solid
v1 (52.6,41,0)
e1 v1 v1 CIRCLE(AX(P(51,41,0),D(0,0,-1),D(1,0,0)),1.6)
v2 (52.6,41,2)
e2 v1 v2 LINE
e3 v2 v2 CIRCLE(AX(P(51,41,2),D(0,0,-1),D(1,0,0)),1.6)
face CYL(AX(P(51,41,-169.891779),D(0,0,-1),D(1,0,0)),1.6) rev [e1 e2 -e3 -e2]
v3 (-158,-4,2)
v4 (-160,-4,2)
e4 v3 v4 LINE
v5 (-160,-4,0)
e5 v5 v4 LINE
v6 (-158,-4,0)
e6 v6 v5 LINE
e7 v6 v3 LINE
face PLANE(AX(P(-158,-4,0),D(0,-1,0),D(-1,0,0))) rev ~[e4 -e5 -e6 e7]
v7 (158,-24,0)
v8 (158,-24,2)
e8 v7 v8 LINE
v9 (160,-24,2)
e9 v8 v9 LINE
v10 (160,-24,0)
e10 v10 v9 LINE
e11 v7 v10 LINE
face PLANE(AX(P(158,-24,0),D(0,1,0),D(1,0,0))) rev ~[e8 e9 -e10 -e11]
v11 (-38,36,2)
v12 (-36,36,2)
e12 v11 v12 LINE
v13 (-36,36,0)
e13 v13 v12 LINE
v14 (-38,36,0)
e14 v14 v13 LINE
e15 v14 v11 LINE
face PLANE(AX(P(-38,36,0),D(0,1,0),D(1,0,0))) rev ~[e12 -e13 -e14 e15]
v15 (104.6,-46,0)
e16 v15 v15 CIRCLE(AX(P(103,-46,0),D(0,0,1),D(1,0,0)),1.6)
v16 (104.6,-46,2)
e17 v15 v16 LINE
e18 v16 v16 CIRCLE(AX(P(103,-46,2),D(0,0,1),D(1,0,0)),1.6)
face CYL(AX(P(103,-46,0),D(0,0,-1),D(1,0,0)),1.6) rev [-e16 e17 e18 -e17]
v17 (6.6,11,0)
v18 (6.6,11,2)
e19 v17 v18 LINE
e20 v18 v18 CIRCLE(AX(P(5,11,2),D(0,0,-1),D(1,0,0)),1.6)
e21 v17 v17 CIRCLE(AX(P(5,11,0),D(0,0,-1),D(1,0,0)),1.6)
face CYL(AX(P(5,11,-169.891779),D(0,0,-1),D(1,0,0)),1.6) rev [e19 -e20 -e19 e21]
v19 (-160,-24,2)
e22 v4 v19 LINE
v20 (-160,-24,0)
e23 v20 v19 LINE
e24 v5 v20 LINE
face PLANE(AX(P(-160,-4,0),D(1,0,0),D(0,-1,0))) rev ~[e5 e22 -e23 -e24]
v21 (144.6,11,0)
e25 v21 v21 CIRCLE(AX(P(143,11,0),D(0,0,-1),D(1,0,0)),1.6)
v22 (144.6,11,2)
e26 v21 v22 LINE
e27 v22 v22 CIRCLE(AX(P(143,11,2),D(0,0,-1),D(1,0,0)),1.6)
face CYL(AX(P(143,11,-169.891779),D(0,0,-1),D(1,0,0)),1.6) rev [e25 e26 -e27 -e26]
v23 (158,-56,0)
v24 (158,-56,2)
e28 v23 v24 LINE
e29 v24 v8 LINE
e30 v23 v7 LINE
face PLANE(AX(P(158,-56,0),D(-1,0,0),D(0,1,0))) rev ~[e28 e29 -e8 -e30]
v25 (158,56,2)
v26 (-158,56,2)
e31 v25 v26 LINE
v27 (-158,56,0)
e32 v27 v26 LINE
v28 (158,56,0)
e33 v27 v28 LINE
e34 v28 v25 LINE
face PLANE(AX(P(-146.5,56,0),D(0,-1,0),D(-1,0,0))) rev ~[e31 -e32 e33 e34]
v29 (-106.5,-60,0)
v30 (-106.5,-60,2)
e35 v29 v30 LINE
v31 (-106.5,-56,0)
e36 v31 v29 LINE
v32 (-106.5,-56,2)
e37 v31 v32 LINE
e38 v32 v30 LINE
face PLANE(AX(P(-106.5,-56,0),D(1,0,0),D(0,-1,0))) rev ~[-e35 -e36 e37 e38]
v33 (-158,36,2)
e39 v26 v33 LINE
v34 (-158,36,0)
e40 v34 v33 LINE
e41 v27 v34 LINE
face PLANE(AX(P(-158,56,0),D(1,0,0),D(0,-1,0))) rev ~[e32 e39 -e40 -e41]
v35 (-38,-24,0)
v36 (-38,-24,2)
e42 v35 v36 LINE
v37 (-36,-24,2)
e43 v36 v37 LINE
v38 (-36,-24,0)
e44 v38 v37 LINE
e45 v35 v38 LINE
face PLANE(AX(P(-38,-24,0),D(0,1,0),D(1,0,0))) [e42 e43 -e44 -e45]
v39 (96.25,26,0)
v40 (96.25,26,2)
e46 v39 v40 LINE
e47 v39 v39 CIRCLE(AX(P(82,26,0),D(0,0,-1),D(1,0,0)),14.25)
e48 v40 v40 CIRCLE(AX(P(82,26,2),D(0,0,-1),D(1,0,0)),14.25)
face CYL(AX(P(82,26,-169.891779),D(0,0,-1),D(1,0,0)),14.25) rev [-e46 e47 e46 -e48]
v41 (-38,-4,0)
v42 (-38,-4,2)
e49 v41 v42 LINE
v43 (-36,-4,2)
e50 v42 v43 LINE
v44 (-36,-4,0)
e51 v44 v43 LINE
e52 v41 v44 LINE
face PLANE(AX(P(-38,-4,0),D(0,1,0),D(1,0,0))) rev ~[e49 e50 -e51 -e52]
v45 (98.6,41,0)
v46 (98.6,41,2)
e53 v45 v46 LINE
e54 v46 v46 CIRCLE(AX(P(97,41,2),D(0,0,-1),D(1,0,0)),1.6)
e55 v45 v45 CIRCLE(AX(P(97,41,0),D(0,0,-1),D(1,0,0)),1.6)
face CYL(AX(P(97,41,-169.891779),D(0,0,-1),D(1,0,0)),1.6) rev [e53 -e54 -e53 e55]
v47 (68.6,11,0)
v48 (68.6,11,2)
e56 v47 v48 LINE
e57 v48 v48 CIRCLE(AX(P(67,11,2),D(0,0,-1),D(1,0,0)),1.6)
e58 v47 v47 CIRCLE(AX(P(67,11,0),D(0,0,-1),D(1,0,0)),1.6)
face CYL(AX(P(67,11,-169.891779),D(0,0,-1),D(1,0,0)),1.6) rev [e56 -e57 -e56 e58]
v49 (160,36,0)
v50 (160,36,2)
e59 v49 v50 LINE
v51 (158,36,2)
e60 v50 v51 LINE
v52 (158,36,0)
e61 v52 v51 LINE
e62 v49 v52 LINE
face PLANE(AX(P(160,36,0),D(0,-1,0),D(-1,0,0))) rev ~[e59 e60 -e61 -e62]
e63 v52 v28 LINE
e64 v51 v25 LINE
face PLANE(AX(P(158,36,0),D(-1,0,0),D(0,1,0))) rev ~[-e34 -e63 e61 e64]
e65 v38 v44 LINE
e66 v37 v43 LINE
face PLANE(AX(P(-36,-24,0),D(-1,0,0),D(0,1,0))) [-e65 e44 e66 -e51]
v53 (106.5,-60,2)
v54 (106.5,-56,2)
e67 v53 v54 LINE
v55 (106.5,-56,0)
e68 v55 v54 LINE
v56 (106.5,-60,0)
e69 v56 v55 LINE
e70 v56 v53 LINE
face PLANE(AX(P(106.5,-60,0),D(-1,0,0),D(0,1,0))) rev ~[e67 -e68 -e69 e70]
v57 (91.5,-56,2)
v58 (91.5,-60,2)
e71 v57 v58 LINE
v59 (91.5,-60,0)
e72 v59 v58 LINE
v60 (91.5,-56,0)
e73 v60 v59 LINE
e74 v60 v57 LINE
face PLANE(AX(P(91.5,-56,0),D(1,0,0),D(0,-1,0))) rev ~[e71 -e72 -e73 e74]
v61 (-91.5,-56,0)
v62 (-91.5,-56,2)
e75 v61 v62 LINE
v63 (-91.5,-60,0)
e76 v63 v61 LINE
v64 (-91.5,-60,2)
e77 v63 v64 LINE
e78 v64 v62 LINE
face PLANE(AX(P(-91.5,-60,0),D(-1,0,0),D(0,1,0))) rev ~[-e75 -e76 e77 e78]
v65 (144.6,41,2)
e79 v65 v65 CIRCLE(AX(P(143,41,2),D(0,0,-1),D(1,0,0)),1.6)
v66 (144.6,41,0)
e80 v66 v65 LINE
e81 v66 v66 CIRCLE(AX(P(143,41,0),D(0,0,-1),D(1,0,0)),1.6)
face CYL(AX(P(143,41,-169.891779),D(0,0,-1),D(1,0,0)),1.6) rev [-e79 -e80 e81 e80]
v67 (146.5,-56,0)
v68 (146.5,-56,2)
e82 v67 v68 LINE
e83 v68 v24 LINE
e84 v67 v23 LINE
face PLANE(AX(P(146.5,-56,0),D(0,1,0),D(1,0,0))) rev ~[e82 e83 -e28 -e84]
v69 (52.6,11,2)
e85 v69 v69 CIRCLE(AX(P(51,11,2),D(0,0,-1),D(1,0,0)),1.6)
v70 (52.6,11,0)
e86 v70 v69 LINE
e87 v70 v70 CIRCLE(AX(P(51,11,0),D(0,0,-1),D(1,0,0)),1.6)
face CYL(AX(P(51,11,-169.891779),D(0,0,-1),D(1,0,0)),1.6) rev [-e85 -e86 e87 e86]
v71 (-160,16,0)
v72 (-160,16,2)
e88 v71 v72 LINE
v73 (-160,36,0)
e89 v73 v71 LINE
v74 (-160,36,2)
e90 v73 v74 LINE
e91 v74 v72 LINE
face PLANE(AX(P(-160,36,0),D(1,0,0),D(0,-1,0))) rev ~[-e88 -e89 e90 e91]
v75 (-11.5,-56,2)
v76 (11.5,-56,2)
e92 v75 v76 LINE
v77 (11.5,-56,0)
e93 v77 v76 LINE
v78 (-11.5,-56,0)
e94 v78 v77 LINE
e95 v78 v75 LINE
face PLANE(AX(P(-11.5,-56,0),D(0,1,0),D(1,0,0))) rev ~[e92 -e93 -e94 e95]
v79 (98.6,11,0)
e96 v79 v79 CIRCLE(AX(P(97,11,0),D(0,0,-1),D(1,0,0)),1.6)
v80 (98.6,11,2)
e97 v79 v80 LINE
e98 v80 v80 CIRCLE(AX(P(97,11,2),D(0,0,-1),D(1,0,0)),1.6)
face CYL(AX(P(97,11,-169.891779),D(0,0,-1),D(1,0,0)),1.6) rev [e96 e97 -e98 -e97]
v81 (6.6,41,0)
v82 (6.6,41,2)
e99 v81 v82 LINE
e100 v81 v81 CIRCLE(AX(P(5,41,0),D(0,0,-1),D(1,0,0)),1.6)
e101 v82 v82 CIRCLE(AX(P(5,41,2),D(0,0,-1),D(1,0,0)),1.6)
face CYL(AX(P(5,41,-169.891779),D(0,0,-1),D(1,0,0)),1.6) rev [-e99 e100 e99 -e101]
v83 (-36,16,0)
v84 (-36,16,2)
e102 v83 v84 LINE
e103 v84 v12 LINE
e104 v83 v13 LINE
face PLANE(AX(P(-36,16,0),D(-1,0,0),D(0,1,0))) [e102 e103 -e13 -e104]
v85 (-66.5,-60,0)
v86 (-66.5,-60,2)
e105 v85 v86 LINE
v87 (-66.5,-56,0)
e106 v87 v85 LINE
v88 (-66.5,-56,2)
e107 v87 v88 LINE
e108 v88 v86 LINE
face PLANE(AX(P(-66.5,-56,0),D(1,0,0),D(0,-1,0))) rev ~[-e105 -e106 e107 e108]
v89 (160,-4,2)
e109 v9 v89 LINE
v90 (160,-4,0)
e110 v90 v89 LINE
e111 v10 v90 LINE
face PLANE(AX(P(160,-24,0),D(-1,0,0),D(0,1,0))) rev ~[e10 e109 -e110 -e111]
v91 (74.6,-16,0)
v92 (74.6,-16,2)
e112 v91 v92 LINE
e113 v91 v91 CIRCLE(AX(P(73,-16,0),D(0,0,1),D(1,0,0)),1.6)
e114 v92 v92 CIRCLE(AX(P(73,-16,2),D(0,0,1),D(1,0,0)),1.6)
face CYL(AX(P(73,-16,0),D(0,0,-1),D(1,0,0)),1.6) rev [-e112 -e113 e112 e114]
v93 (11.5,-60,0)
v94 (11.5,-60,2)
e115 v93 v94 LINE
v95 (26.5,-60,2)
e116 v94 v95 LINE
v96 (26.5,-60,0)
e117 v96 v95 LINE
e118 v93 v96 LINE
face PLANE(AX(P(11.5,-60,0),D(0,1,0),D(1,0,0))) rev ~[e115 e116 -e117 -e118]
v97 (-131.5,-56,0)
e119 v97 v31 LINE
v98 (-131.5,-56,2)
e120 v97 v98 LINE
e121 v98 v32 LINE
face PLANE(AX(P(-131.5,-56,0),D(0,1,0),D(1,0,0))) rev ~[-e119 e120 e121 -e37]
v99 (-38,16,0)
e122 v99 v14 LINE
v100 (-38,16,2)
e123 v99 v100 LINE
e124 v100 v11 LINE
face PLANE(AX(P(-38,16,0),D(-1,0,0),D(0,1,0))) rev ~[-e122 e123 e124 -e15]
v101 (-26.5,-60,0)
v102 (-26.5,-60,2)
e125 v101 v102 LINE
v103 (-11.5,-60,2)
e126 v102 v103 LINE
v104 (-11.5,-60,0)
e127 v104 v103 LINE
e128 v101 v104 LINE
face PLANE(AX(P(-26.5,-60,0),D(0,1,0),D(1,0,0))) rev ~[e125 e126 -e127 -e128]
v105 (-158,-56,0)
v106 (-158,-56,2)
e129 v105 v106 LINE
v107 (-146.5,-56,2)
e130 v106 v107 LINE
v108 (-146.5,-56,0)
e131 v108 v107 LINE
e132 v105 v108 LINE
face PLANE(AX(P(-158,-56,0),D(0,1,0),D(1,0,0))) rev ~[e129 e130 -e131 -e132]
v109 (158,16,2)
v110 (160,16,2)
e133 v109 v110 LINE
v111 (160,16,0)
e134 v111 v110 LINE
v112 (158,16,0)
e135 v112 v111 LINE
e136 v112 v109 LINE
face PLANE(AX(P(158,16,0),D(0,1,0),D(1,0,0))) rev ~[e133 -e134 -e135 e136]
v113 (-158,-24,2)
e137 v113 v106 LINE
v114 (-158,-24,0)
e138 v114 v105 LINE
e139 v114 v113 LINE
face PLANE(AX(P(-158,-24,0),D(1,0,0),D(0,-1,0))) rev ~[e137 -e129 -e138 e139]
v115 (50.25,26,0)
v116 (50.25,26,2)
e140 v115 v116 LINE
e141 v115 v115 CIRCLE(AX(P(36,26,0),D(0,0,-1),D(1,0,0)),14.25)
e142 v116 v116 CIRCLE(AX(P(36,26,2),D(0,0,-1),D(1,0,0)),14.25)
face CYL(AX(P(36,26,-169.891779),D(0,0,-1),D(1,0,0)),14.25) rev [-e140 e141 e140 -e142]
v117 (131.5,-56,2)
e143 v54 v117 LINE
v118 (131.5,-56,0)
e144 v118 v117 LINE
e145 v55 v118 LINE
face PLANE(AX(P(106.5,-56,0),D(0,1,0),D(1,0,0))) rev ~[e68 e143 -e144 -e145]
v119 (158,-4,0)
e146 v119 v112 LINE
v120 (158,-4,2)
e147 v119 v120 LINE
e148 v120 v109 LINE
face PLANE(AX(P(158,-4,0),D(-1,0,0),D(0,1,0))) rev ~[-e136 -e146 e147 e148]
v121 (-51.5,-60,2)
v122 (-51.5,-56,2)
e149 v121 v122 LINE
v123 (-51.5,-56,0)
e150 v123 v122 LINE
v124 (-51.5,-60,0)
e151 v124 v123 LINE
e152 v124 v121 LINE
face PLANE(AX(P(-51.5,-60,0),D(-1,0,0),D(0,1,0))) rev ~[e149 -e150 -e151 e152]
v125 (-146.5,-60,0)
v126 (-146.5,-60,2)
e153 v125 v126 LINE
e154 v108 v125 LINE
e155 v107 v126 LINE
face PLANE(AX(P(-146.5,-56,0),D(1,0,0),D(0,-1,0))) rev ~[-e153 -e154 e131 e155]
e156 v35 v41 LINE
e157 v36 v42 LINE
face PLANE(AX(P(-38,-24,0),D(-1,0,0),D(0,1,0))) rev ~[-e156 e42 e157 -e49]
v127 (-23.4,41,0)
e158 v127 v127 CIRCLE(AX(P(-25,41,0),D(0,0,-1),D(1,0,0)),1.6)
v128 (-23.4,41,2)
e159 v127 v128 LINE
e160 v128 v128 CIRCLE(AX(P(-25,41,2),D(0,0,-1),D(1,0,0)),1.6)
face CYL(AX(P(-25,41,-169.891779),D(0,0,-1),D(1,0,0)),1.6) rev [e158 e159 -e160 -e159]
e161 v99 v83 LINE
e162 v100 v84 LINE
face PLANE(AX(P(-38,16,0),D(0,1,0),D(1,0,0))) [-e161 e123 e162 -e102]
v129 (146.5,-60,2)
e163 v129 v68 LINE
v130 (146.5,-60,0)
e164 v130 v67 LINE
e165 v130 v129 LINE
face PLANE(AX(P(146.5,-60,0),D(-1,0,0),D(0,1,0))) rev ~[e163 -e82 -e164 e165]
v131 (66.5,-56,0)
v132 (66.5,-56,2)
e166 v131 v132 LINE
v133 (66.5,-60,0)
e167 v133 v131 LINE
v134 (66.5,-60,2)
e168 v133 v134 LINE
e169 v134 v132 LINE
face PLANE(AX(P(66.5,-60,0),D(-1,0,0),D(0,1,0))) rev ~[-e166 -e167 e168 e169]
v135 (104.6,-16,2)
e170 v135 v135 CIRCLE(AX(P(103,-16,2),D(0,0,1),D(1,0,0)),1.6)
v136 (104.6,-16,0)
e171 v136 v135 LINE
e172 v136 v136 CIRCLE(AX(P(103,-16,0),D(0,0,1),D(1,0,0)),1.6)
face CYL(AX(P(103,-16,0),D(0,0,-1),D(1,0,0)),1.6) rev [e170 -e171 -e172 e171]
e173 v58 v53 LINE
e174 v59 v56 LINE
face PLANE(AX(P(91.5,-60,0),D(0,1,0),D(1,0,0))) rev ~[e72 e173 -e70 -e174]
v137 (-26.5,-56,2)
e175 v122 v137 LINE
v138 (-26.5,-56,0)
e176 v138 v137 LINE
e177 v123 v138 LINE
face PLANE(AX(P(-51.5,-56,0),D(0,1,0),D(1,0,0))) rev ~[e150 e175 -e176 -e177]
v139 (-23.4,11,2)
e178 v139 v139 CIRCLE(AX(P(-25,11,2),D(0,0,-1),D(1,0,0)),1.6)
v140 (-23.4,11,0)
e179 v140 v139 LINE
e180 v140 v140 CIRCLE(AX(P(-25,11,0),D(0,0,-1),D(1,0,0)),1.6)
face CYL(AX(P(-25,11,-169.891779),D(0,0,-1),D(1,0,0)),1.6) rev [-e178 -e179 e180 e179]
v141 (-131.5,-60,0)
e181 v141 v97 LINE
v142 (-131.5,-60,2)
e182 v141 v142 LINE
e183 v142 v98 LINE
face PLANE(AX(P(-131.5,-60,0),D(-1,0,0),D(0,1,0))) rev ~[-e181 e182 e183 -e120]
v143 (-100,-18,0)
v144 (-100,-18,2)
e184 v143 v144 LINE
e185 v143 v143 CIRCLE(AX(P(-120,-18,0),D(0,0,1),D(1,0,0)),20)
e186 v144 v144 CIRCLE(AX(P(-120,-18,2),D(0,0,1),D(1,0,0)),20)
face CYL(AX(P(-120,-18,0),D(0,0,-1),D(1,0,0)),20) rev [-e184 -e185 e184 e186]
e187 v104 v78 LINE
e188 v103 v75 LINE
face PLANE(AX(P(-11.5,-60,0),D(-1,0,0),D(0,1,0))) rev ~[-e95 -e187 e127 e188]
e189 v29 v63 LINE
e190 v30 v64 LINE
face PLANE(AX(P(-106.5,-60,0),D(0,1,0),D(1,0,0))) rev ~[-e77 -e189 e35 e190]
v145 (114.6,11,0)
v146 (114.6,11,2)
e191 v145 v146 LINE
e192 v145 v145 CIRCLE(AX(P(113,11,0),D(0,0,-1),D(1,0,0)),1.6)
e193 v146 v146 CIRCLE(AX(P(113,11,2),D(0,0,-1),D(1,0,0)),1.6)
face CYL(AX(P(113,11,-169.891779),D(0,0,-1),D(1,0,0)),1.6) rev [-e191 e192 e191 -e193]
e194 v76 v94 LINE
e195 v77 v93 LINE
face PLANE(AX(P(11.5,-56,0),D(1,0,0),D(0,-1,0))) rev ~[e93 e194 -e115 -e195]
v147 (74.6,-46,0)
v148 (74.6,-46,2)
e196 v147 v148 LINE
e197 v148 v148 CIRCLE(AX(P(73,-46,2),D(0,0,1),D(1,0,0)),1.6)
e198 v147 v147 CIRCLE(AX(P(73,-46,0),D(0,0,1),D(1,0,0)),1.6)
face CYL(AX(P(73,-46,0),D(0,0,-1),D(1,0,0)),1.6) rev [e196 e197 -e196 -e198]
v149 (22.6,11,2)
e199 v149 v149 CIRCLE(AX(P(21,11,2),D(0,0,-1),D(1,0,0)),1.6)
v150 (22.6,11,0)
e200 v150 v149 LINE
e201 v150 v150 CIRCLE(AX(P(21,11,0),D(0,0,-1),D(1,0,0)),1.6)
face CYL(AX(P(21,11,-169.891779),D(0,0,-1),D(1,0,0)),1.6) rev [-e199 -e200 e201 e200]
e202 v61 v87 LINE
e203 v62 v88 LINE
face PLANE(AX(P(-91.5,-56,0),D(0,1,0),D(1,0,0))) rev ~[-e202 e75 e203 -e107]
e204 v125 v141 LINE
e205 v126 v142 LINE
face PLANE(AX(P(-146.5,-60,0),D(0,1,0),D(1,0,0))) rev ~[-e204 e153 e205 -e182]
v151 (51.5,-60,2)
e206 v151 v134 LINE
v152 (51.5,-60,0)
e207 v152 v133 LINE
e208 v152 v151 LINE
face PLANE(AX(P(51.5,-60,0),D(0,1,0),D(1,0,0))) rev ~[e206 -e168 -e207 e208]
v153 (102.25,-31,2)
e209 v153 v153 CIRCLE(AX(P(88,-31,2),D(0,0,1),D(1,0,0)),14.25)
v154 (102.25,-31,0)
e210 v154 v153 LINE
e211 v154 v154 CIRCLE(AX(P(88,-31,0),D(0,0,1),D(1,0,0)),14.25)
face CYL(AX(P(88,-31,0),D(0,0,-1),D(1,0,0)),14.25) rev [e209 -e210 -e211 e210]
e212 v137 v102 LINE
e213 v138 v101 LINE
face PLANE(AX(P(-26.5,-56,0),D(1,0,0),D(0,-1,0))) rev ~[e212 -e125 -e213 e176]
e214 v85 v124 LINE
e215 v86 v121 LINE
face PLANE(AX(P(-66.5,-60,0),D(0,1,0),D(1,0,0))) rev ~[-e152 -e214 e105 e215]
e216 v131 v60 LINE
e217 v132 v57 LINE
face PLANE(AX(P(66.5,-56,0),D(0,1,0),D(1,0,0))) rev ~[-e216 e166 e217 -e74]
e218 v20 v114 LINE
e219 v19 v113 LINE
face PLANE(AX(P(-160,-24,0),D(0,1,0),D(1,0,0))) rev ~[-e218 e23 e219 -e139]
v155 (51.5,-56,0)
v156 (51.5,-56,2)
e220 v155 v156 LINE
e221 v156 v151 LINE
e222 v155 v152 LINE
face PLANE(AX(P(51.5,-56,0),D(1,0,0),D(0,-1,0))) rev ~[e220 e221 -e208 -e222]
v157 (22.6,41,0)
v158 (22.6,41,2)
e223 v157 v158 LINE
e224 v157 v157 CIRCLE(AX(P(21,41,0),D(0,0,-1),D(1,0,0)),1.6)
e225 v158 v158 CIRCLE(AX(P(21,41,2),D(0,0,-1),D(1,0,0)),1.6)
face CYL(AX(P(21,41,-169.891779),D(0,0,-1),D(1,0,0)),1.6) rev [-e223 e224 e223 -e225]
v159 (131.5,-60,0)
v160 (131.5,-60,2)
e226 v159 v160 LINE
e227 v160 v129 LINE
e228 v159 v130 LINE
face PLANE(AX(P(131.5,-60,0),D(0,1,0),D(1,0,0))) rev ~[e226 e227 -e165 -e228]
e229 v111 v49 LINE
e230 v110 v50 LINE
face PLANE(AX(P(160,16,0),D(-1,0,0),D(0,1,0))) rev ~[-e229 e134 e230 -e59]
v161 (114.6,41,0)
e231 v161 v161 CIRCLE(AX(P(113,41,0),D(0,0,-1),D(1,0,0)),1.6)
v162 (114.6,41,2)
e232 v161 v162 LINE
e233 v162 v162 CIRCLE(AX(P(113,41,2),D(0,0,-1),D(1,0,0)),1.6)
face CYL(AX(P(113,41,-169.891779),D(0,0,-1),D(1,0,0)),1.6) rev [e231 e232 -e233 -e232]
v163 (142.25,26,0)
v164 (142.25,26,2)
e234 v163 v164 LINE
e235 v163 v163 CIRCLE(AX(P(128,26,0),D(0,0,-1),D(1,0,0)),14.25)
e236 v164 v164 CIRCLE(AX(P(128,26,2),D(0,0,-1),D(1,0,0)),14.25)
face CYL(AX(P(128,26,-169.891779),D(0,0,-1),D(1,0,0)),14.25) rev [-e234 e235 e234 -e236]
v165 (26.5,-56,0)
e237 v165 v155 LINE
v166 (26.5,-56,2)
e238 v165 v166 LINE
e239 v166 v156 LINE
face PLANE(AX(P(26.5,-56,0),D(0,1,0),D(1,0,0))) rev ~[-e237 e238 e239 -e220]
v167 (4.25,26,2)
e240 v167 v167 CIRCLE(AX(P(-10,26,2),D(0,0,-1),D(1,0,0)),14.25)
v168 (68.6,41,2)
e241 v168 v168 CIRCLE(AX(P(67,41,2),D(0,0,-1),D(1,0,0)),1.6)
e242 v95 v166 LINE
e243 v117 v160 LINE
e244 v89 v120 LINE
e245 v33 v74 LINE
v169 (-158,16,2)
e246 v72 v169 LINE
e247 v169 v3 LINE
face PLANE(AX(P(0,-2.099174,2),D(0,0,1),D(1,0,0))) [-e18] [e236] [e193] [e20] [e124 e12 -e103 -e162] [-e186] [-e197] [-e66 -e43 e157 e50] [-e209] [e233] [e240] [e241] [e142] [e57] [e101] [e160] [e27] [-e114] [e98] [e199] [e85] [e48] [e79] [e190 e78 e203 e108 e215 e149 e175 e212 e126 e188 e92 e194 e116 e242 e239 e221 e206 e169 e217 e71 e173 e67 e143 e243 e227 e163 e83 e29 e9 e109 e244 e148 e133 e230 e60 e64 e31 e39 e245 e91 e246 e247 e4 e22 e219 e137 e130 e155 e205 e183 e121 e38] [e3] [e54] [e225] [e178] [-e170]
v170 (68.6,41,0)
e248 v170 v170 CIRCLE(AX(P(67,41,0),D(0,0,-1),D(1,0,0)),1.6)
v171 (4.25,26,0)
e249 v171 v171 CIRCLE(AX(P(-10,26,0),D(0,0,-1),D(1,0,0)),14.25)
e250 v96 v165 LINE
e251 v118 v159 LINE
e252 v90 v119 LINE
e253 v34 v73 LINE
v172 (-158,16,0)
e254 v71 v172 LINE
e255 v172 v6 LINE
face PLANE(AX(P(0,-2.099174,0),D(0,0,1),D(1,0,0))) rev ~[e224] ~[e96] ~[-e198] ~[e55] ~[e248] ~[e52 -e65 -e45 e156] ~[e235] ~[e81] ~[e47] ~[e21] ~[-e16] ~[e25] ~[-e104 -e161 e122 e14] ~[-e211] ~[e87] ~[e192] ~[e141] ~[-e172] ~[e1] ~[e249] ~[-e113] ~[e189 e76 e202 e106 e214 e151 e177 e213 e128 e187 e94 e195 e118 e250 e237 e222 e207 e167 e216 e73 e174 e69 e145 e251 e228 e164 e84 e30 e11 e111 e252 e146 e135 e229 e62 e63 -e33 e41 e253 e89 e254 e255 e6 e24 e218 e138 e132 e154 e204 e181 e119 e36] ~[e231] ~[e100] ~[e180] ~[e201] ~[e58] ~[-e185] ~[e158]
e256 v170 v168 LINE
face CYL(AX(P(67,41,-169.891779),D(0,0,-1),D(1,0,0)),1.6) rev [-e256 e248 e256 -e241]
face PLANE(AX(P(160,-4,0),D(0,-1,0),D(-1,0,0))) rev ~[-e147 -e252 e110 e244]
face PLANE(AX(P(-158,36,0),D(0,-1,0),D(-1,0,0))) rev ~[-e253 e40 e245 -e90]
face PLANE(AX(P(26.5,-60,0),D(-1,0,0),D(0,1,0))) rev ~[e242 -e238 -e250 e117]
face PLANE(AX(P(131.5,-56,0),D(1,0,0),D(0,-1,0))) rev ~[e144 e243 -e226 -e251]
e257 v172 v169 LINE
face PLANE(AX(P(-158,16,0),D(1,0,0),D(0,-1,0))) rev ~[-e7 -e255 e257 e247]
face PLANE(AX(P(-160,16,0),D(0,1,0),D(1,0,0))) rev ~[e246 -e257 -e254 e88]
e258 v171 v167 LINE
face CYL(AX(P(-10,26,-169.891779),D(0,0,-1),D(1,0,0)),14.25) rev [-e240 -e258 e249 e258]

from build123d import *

# Parameters (mm, degrees)
SKETCH1_R               = 20
SKETCH1_R_2             = 14.25
SKETCH1_R_3             = 1.6
SKETCH1_W               = 2
SKETCH1_H               = 20
BOSS_EXTRUDE1_DEPTH     = 2
CUT_EXTRUDE3_DEPTH      = 171.89177862
CUT_EXTRUDE3_DEPTH_BACK = 171.89177862
SKETCH4_W               = 15
SKETCH4_H               = 2
CUT_EXTRUDE4_DEPTH      = 171.89177862
CUT_EXTRUDE4_DEPTH_BACK = 171.89177862
SKETCH5_R               = 14.25
SKETCH5_R_2             = 1.6


with BuildPart() as part:
    # Sketch1 → Boss-Extrude1 (new body)
    with BuildSketch(Plane.XY):
        Polygon((-158, -56), (-146.5, -56), (-146.5, -60), (-131.5, -60), (-131.5, -56), (-106.5, -56), (-106.5, -60), (-91.5, -60), (-91.5, -56), (-66.5, -56), (-66.5, -60), (-51.5, -60), (-51.5, -56), (-26.5, -56), (-26.5, -60), (-11.5, -60), (-11.5, -56), (11.5, -56), (11.5, -60), (26.5, -60), (26.5, -56), (51.5, -56), (51.5, -60), (66.5, -60), (66.5, -56), (91.5, -56), (91.5, -60), (106.5, -60), (106.5, -56), (131.5, -56), (131.5, -60), (146.5, -60), (146.5, -56), (158, -56), (158, -24), (160, -24), (160, -4), (158, -4), (158, 16), (160, 16), (160, 36), (158, 36), (158, 56), (146.5, 56), (146.5, 58), (131.5, 58), (131.5, 56), (106.5, 56), (106.5, 58), (91.5, 58), (91.5, 56), (66.5, 56), (66.5, 58), (51.5, 58), (51.5, 56), (26.5, 56), (26.5, 58), (11.5, 58), (11.5, 56), (-11.5, 56), (-11.5, 58), (-26.5, 58), (-26.5, 56), (-51.5, 56), (-51.5, 58), (-66.5, 58), (-66.5, 56), (-91.5, 56), (-91.5, 58), (-106.5, 58), (-106.5, 56), (-131.5, 56), (-131.5, 58), (-146.5, 58), (-146.5, 56), (-158, 56), (-158, 36), (-160, 36), (-160, 16), (-158, 16), (-158, -4), (-160, -4), (-160, -24), (-158, -24), align=None)
        with Locations((-120, -18)):
            Circle(SKETCH1_R, mode=Mode.SUBTRACT)
        with Locations((88, -31)):
            Circle(SKETCH1_R_2, mode=Mode.SUBTRACT)
        with Locations((73, -16)):
            Circle(SKETCH1_R_3, mode=Mode.SUBTRACT)
        with Locations((103, -16)):
            Circle(SKETCH1_R_3, mode=Mode.SUBTRACT)
        with Locations((73, -46)):
            Circle(SKETCH1_R_3, mode=Mode.SUBTRACT)
        with Locations((103, -46)):
            Circle(SKETCH1_R_3, mode=Mode.SUBTRACT)
        with Locations((-37, -14)):
            Rectangle(SKETCH1_W, SKETCH1_H, mode=Mode.SUBTRACT)
        with Locations((-37, 26)):
            Rectangle(SKETCH1_W, SKETCH1_H, mode=Mode.SUBTRACT)
    extrude(amount=BOSS_EXTRUDE1_DEPTH)

    # Sketch4 → Cut-Extrude3 (cut, two sides: drawn at the far end of the back side and taken through both)
    with BuildSketch(Plane.XY.offset(2).offset(-CUT_EXTRUDE3_DEPTH_BACK)):
        with Locations((-139, 57)):
            Rectangle(SKETCH4_W, SKETCH4_H)
        with Locations((-99, 57)):
            Rectangle(SKETCH4_W, SKETCH4_H)
        with Locations((-59, 57)):
            Rectangle(SKETCH4_W, SKETCH4_H)
        with Locations((-19, 57)):
            Rectangle(SKETCH4_W, SKETCH4_H)
        with Locations((19, 57)):
            Rectangle(SKETCH4_W, SKETCH4_H)
        with Locations((59, 57)):
            Rectangle(SKETCH4_W, SKETCH4_H)
        with Locations((99, 57)):
            Rectangle(SKETCH4_W, SKETCH4_H)
        with Locations((139, 57)):
            Rectangle(SKETCH4_W, SKETCH4_H)
    extrude(amount=CUT_EXTRUDE3_DEPTH + CUT_EXTRUDE3_DEPTH_BACK, mode=Mode.SUBTRACT)

    # Sketch5 → Cut-Extrude4 (cut, two sides: drawn at the far end of the back side and taken through both)
    with BuildSketch(Plane.XY.offset(2).offset(-CUT_EXTRUDE4_DEPTH_BACK)):
        with Locations((128, 26)):
            Circle(SKETCH5_R)
        with Locations((113, 41)):
            Circle(SKETCH5_R_2)
        with Locations((143, 41)):
            Circle(SKETCH5_R_2)
        with Locations((143, 11)):
            Circle(SKETCH5_R_2)
        with Locations((113, 11)):
            Circle(SKETCH5_R_2)
        with Locations((82, 26)):
            Circle(SKETCH5_R)
        with Locations((97, 11)):
            Circle(SKETCH5_R_2)
        with Locations((67, 11)):
            Circle(SKETCH5_R_2)
        with Locations((67, 41)):
            Circle(SKETCH5_R_2)
        with Locations((97, 41)):
            Circle(SKETCH5_R_2)
        with Locations((36, 26)):
            Circle(SKETCH5_R)
        with Locations((51, 11)):
            Circle(SKETCH5_R_2)
        with Locations((21, 11)):
            Circle(SKETCH5_R_2)
        with Locations((21, 41)):
            Circle(SKETCH5_R_2)
        with Locations((51, 41)):
            Circle(SKETCH5_R_2)
        with Locations((-10, 26)):
            Circle(SKETCH5_R)
        with Locations((5, 11)):
            Circle(SKETCH5_R_2)
        with Locations((-25, 11)):
            Circle(SKETCH5_R_2)
        with Locations((-25, 41)):
            Circle(SKETCH5_R_2)
        with Locations((5, 41)):
            Circle(SKETCH5_R_2)
    extrude(amount=CUT_EXTRUDE4_DEPTH + CUT_EXTRUDE4_DEPTH_BACK, mode=Mode.SUBTRACT)


solid = part.part
